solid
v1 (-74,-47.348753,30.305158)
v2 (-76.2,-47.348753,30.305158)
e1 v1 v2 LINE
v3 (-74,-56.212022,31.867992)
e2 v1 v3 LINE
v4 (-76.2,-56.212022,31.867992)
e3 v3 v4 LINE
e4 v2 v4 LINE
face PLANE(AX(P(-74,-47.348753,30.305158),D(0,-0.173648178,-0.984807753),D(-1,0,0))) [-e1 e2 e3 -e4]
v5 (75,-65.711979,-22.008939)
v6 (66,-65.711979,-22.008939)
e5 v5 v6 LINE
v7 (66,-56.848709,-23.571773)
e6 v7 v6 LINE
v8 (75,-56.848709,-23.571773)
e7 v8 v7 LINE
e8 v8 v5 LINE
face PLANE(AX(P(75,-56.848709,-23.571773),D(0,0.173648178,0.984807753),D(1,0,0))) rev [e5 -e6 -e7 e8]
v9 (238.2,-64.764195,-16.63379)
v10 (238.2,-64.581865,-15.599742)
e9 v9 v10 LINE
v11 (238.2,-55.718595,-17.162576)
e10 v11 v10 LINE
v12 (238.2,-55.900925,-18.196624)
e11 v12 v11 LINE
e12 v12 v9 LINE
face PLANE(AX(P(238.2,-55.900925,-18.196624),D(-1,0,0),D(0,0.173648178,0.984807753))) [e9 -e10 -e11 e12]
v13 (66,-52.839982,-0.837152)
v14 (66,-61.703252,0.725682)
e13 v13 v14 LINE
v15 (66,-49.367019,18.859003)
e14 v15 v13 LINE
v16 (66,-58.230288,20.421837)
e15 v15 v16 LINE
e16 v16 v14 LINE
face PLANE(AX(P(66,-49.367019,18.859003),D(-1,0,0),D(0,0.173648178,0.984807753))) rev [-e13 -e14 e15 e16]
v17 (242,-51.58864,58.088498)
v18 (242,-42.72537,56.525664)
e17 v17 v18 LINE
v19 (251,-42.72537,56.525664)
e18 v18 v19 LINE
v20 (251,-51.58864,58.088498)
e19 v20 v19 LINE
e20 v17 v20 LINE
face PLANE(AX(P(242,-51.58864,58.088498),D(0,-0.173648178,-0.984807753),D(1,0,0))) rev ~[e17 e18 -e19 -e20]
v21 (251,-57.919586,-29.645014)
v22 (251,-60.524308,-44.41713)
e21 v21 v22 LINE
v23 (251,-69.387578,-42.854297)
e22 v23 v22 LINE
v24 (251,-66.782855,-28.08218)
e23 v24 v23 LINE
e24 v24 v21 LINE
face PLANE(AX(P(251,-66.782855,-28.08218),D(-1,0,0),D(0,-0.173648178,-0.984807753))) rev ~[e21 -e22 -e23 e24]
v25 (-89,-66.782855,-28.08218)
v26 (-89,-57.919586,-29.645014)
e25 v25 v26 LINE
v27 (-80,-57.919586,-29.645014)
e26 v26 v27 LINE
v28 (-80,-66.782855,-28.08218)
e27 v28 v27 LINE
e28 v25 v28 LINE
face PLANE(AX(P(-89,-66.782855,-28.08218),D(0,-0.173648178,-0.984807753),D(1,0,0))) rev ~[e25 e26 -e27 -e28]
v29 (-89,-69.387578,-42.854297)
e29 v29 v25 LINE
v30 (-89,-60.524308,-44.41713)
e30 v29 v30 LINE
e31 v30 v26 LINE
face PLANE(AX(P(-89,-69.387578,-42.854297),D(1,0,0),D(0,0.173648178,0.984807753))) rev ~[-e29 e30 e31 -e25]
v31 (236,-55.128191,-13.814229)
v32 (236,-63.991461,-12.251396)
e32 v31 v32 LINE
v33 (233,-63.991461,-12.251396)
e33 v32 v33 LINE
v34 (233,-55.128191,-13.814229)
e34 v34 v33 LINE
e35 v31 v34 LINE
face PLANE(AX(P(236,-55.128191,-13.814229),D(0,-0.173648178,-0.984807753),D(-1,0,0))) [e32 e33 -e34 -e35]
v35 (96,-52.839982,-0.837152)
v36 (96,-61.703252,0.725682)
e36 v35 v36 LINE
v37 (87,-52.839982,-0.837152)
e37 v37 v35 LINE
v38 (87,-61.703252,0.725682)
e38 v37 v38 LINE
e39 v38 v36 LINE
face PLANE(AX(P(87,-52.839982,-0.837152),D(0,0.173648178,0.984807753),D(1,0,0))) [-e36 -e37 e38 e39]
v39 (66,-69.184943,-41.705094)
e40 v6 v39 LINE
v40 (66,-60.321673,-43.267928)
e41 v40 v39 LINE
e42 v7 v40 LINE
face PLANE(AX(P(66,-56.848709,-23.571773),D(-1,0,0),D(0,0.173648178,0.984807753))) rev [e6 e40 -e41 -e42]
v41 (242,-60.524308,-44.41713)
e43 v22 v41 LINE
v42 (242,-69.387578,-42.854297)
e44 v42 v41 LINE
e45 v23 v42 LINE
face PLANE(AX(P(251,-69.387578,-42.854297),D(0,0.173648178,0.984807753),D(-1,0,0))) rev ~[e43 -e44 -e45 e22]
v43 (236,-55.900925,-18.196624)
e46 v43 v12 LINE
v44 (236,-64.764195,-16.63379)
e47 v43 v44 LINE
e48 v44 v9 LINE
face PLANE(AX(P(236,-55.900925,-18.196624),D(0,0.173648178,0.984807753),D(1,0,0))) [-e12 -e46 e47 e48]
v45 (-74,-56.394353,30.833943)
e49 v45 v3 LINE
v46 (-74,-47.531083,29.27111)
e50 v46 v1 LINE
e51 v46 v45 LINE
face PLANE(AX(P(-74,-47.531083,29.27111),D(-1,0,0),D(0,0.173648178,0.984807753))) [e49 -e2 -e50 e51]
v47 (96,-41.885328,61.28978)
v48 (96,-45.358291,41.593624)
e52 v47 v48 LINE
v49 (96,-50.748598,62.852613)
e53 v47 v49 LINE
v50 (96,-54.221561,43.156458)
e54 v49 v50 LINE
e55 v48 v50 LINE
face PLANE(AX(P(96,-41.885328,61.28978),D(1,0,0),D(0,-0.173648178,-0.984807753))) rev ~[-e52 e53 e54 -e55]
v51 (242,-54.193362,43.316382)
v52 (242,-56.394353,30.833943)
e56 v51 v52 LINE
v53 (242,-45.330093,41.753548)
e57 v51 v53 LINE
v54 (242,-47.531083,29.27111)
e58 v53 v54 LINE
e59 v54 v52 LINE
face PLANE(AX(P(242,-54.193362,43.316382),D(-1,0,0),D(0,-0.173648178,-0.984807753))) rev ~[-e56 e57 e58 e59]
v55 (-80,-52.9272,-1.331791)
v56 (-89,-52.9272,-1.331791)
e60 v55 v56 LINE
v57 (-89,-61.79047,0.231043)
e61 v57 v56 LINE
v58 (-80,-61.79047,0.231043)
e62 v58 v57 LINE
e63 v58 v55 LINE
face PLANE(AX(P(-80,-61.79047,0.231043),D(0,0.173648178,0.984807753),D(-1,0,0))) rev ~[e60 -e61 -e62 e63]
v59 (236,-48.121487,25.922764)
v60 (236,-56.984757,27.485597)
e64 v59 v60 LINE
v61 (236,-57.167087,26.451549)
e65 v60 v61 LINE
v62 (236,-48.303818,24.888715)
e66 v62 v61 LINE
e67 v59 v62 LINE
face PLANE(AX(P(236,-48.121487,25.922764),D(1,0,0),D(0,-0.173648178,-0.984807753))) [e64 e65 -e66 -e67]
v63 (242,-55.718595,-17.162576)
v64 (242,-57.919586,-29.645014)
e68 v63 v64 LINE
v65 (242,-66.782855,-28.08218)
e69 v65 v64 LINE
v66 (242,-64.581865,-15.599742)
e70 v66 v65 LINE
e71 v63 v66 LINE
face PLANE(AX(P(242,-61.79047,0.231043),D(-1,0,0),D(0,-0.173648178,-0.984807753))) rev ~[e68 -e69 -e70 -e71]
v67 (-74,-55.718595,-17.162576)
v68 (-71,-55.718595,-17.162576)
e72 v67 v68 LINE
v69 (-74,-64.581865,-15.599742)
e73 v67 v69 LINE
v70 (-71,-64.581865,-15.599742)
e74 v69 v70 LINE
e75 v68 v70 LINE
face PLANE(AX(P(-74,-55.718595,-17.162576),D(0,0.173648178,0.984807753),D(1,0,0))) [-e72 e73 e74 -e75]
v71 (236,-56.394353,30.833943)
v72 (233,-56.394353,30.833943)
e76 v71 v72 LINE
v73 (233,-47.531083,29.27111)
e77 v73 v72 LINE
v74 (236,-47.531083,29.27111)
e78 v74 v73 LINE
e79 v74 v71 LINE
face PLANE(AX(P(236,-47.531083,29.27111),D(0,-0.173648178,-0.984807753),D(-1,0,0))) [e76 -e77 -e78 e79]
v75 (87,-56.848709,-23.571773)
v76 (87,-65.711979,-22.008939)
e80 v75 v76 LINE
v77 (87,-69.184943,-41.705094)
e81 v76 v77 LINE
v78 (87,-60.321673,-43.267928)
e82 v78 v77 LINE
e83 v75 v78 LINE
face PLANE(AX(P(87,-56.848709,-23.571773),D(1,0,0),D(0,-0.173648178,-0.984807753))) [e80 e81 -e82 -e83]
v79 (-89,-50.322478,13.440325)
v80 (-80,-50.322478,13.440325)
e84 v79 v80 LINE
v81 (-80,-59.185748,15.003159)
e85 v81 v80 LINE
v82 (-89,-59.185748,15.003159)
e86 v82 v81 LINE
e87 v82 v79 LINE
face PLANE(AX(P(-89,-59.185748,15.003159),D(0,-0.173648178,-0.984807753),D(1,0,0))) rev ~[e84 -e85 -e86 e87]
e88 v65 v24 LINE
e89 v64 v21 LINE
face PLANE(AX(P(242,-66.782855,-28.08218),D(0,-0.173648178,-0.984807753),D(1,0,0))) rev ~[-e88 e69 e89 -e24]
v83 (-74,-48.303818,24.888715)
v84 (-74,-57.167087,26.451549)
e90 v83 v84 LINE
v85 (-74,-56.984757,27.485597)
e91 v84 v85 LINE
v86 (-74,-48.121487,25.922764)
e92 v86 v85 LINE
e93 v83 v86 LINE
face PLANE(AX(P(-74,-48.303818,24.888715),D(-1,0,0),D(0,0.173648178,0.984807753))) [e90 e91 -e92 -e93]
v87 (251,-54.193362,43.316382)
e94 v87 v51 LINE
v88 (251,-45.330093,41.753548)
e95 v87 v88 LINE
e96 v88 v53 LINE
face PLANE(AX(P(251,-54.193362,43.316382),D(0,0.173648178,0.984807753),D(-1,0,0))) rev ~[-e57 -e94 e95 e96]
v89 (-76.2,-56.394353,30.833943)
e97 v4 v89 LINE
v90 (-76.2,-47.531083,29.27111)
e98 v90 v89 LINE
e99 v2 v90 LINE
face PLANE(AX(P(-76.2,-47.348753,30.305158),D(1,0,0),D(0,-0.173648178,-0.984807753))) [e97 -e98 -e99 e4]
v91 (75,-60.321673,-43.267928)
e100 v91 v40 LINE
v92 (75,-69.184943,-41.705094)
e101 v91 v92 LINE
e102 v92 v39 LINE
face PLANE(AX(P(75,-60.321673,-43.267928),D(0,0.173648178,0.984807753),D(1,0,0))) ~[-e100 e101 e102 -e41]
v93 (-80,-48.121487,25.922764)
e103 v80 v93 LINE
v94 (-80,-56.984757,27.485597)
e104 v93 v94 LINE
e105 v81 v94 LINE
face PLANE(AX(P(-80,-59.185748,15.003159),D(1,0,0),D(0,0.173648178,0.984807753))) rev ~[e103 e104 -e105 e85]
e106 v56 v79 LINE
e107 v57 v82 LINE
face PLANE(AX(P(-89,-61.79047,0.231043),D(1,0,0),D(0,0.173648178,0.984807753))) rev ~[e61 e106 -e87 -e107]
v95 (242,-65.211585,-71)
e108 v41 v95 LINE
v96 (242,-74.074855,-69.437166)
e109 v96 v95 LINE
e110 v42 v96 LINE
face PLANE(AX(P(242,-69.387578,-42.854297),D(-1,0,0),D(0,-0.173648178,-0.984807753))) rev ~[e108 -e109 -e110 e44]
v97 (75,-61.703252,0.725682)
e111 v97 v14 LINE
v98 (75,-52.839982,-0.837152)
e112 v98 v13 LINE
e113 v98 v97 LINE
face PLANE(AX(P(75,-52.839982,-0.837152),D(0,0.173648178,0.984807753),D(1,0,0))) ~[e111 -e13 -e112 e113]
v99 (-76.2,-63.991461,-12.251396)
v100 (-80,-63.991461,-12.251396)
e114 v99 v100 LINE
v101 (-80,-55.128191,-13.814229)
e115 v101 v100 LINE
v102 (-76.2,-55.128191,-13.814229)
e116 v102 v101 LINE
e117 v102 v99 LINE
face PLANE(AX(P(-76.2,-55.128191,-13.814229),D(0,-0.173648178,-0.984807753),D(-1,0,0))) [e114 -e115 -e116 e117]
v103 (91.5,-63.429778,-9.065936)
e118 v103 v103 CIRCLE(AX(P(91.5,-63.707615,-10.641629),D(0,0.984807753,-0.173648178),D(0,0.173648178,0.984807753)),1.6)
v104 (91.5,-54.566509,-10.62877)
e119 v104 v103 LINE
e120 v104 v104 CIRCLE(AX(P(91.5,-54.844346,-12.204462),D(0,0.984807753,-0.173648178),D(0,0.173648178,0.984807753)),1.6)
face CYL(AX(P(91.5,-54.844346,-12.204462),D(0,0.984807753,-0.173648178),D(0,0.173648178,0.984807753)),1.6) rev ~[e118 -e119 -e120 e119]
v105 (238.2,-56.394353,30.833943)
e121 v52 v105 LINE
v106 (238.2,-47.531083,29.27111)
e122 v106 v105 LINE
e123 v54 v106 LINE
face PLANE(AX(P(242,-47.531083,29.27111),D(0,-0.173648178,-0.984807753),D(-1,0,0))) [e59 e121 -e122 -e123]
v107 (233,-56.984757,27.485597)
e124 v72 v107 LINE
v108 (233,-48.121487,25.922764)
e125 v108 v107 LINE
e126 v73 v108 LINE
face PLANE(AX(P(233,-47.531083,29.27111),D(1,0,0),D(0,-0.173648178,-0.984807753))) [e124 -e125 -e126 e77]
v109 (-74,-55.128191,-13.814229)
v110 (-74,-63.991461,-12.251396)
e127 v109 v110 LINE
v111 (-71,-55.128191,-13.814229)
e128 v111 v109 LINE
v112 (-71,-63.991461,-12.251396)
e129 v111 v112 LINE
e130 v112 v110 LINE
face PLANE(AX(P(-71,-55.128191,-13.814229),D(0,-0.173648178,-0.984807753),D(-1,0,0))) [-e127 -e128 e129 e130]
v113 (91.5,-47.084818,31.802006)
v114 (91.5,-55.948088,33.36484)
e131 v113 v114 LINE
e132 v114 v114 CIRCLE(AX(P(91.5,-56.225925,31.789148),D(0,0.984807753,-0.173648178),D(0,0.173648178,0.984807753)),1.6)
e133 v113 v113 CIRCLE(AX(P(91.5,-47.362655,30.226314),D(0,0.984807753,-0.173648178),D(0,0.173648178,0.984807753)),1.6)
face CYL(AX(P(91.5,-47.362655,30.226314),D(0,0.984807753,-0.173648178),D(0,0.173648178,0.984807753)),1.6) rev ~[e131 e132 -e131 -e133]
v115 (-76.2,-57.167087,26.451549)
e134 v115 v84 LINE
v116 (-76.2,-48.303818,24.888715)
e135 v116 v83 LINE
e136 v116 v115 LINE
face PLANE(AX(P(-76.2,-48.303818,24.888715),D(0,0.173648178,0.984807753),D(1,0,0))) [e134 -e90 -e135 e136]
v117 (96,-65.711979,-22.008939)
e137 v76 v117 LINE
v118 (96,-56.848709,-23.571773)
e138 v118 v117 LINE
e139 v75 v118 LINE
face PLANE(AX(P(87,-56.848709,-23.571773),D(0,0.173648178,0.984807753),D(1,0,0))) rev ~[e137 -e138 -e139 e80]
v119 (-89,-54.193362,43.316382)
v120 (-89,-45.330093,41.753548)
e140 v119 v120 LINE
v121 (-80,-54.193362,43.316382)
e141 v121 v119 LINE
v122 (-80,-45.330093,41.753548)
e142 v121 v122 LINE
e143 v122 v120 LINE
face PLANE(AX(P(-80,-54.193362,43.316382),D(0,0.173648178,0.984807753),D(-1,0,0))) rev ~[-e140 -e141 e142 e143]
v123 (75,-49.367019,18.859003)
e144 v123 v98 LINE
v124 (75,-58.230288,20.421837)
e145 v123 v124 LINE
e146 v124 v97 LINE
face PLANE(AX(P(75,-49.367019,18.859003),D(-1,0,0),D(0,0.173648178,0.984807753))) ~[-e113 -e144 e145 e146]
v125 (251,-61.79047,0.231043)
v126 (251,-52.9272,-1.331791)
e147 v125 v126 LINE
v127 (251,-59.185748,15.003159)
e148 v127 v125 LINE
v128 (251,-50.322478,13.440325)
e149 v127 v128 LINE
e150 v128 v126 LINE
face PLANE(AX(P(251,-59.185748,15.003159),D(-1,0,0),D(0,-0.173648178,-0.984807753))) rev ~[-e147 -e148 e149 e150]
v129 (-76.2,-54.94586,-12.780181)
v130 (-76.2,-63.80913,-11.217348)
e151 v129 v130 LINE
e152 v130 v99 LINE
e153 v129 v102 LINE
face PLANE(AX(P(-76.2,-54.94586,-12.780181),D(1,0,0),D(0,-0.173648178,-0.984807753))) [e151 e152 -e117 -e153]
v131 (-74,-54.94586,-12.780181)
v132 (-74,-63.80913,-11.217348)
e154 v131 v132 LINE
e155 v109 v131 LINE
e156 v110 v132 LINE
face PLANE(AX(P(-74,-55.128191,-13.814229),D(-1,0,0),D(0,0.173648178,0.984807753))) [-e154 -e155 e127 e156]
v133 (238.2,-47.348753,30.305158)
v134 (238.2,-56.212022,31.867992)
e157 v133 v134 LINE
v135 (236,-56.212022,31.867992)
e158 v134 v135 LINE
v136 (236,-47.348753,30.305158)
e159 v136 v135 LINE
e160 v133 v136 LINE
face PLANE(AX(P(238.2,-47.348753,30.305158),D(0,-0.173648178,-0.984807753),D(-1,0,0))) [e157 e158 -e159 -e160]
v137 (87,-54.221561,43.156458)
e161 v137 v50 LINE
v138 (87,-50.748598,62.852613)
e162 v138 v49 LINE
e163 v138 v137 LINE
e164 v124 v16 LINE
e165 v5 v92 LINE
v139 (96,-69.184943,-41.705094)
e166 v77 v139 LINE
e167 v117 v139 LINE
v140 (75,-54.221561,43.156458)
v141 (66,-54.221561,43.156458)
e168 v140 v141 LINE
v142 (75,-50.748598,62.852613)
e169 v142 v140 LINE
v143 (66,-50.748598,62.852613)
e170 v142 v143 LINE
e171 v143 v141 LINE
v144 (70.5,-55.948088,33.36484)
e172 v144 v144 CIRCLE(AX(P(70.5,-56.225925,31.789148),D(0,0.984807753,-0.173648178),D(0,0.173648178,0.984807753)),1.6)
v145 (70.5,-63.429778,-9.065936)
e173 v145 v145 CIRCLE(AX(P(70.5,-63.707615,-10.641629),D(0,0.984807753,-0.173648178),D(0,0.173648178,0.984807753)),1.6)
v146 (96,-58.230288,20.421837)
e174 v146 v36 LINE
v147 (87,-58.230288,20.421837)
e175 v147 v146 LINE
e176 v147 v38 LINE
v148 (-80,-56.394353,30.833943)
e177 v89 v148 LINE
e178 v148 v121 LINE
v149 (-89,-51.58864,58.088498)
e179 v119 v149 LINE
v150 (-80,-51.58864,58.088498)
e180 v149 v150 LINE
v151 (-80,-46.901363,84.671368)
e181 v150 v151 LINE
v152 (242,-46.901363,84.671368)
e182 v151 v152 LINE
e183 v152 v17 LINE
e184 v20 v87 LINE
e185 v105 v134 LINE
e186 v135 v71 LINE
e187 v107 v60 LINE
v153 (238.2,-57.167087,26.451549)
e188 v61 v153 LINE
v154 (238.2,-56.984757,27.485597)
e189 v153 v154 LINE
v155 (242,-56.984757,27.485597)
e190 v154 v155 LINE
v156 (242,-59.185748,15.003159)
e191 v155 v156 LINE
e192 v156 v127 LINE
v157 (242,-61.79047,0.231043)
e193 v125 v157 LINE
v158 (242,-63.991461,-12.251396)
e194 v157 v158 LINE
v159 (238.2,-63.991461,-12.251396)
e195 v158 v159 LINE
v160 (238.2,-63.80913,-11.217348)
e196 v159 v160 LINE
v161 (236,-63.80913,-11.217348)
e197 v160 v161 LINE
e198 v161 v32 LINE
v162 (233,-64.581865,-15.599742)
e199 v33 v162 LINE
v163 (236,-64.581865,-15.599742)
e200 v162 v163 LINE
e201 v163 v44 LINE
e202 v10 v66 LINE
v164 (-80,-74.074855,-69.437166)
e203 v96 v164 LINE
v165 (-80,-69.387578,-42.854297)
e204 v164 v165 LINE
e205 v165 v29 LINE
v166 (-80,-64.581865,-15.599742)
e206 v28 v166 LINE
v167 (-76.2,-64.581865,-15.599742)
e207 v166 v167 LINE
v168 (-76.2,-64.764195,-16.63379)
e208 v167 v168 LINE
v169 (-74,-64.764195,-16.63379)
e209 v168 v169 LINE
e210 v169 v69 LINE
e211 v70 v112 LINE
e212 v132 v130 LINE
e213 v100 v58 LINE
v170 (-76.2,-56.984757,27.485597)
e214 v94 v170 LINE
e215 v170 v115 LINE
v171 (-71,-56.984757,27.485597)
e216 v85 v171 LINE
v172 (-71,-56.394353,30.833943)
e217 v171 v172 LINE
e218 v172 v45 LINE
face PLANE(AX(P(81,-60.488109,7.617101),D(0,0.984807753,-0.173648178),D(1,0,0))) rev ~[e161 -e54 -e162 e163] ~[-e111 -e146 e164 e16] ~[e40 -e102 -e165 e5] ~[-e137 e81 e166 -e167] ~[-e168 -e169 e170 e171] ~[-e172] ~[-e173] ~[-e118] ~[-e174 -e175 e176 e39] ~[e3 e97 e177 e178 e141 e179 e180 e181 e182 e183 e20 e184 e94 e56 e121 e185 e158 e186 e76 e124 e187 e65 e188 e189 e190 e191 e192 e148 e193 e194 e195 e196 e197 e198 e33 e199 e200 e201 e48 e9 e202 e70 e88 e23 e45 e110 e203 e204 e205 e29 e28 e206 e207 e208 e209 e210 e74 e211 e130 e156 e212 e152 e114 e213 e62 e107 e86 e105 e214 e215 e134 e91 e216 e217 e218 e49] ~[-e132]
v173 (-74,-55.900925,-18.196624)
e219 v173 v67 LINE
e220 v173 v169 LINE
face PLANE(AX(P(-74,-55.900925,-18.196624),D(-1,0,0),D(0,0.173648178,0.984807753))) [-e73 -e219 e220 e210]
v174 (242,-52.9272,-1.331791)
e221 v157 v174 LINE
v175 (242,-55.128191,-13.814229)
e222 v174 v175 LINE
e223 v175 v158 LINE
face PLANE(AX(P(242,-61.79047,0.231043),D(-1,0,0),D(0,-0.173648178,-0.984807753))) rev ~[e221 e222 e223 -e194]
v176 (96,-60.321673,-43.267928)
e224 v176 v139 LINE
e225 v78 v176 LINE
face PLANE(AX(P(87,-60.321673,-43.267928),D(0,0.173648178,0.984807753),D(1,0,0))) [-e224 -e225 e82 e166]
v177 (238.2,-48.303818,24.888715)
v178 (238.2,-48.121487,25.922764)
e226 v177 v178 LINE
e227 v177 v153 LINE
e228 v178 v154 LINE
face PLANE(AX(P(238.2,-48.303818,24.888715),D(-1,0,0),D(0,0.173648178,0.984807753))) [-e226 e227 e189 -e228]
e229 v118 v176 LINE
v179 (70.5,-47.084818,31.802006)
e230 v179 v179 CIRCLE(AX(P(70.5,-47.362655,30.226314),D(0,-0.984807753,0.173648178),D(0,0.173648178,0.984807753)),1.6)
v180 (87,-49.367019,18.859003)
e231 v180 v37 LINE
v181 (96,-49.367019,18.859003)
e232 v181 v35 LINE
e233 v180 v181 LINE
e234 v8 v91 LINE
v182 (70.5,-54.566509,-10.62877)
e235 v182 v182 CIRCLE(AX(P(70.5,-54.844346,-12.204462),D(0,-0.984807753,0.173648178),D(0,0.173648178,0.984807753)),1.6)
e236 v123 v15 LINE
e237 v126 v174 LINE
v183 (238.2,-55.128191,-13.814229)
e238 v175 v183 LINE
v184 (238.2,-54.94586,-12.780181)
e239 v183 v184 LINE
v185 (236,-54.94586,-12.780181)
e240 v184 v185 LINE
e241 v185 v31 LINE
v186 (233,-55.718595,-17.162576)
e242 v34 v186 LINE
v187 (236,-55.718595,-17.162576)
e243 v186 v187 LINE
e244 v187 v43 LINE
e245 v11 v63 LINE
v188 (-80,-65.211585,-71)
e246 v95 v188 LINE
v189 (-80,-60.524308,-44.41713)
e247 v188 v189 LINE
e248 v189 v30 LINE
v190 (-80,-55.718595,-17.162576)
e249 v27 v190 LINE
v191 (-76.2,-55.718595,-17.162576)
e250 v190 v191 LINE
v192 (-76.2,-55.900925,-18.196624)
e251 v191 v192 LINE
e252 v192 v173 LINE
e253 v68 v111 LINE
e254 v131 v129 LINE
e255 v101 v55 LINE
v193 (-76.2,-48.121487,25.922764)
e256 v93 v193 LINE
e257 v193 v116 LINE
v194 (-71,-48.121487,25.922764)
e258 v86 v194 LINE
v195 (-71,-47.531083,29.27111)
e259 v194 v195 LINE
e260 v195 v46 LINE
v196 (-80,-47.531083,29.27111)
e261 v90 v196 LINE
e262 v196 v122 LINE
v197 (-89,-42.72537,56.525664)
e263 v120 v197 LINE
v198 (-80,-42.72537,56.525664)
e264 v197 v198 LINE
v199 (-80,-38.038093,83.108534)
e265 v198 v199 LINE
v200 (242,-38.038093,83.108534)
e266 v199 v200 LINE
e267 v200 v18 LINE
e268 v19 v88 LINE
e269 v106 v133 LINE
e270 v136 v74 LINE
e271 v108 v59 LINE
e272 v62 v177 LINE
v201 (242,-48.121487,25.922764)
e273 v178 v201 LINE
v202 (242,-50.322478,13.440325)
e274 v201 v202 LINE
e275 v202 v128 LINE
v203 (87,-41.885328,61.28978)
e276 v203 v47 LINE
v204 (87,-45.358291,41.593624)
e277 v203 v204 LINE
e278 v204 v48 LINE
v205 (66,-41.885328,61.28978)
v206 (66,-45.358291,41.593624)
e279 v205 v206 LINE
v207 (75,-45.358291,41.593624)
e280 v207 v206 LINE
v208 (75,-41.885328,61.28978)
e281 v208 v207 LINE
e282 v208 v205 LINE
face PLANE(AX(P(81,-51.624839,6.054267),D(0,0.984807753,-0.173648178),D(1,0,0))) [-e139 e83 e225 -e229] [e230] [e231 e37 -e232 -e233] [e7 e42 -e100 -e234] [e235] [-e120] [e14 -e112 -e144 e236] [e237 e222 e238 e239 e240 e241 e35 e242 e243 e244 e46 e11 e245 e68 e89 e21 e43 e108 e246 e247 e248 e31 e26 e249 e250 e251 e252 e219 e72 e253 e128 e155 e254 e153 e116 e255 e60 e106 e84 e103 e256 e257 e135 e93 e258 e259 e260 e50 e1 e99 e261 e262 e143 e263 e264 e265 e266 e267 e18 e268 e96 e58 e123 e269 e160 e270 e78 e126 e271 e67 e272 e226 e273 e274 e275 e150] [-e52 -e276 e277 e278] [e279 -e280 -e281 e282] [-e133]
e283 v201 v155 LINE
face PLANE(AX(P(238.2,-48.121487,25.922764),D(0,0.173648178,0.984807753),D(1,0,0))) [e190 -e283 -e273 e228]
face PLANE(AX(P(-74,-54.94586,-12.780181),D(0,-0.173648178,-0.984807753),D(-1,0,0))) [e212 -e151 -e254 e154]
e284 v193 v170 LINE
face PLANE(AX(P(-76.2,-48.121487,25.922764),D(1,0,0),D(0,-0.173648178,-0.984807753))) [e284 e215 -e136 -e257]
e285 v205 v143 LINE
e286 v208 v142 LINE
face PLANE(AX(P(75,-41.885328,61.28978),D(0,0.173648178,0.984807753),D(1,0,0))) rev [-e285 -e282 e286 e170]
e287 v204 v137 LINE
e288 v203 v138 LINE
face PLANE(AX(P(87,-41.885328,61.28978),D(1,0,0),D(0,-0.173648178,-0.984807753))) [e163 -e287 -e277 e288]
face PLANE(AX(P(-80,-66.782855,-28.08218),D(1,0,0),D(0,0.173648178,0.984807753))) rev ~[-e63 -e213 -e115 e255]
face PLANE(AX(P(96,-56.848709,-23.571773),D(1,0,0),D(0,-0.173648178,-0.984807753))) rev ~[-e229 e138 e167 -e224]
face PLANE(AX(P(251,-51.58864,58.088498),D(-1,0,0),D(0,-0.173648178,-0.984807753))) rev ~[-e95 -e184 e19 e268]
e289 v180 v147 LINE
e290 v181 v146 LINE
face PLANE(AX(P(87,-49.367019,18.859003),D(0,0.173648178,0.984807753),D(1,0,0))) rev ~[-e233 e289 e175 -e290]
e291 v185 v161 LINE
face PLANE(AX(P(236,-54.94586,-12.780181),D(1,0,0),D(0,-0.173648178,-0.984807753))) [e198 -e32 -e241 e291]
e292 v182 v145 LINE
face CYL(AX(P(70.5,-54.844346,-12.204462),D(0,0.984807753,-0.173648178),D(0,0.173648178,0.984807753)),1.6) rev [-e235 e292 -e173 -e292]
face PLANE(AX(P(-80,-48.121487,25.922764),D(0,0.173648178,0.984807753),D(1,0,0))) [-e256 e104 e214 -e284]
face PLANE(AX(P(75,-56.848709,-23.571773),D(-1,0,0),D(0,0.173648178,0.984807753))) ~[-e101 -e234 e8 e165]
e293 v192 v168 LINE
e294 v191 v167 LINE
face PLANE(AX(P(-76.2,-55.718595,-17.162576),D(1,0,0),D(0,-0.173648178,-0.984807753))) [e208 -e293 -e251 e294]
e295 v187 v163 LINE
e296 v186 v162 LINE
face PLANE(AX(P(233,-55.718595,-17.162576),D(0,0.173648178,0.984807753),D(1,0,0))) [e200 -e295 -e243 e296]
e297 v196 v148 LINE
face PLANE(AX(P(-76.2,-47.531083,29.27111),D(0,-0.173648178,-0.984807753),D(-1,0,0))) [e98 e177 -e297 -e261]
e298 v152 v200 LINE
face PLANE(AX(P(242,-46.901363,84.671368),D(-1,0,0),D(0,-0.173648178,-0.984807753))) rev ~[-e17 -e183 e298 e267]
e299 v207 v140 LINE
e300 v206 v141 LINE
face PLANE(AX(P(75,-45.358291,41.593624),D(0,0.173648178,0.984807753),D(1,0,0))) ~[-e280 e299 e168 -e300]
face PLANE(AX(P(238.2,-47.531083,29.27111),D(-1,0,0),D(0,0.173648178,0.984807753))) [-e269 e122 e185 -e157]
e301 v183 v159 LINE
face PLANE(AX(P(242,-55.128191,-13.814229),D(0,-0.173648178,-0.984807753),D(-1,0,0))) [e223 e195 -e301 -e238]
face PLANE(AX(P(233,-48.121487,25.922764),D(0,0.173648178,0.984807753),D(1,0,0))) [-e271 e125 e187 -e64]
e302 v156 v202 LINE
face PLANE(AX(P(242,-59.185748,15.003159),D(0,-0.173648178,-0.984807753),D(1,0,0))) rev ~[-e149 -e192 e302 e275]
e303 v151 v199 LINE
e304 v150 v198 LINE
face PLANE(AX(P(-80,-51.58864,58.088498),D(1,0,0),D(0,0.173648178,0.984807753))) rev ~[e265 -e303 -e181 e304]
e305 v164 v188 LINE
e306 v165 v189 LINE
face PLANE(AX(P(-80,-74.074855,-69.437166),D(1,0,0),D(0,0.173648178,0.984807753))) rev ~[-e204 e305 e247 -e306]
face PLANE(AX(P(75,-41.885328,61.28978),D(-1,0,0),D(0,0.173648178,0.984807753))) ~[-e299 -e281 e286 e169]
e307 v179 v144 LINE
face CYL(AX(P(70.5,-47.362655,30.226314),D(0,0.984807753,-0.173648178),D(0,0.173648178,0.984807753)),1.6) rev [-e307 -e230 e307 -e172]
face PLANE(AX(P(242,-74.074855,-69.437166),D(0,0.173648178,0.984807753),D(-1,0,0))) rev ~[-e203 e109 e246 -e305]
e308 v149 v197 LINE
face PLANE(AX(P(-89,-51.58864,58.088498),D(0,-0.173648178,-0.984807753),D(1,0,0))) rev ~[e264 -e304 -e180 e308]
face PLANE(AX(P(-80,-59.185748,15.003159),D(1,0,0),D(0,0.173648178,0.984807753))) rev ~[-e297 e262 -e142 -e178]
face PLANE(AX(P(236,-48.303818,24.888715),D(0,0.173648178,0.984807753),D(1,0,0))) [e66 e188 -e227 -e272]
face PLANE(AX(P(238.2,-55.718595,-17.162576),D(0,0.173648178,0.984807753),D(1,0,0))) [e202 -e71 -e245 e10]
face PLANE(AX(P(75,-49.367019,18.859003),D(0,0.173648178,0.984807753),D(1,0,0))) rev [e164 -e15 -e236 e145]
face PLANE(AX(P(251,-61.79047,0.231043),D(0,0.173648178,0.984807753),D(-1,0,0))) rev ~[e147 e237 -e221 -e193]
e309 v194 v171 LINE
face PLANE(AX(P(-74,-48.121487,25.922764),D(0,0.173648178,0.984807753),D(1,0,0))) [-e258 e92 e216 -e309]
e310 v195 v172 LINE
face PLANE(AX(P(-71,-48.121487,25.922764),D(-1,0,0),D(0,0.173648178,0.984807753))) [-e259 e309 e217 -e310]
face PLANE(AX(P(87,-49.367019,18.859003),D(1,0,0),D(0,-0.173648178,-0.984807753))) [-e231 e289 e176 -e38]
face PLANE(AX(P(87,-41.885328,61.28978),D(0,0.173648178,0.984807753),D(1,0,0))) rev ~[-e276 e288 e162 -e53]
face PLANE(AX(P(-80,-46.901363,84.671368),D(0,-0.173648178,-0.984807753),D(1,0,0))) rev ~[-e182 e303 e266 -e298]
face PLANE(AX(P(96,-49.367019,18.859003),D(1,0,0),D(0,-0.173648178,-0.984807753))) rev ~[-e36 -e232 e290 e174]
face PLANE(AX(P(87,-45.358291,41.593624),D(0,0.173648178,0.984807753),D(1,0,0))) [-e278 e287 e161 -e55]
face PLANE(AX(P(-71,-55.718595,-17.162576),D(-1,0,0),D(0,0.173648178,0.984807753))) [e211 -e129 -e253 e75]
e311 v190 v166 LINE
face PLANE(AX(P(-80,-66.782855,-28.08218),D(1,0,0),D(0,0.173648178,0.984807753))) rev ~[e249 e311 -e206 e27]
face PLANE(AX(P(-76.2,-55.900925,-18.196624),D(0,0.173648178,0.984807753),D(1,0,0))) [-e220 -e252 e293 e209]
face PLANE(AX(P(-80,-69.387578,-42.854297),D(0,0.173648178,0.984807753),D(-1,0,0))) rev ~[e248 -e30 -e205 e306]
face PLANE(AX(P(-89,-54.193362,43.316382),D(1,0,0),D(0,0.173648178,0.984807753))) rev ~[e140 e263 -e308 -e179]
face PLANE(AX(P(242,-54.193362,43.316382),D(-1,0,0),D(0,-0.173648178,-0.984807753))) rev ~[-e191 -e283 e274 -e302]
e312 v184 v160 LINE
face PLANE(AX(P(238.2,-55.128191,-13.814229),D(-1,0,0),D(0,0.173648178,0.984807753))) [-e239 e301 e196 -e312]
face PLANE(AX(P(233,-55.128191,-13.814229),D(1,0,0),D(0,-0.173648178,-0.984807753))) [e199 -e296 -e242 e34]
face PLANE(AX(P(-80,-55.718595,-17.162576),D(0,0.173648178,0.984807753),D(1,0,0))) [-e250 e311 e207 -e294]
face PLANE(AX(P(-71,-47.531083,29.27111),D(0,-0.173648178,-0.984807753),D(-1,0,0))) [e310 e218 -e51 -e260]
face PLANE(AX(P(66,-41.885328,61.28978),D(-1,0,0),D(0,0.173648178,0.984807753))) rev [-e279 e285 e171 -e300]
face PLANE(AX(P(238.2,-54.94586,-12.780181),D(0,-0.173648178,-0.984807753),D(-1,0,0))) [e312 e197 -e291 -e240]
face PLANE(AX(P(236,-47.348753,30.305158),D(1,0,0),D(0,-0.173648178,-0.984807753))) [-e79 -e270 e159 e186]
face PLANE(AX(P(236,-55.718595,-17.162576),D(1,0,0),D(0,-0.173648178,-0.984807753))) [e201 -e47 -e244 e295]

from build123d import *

# Parameters (mm, degrees)
BOSS_EXTRUDE1_DEPTH = 9
CUT_EXTRUDE1_DEPTH  = 265.443626141
SKETCH5_R           = 1.6
SKETCH5_W           = 9
SKETCH5_H           = 20
CUT_EXTRUDE2_DEPTH  = 265.443626141


with BuildPart() as part:
    # Sketch2 → Boss-Extrude1 (new body)
    with BuildSketch(Plane(origin=(0, -59.966770125, 10.573759519), x_dir=(1, 0, 0), z_dir=(0, 0.9848077530122079, -0.1736481776669316))):
        Polygon((-80, -33.247729948), (-89, -33.247729948), (-89, -48.247729948), (-80, -48.247729948), (-80, -75.240683317), (242, -75.240683317), (242, -48.247729948), (251, -48.247729948), (251, -33.247729948), (242, -33.247729948), (242, -4.497729948), (251, -4.497729948), (251, 10.502270052), (242, 10.502270052), (242, 39.252270052), (251, 39.252270052), (251, 54.252270052), (242, 54.252270052), (242, 81.245223421), (-80, 81.245223421), (-80, 54.252270052), (-89, 54.252270052), (-89, 39.252270052), (-80, 39.252270052), (-80, 10.502270052), (-89, 10.502270052), (-89, -4.497729948), (-80, -4.497729948), align=None)
    extrude(amount=BOSS_EXTRUDE1_DEPTH)

    # Sketch4 → Cut-Extrude1 (cut, through all)
    with BuildSketch(Plane(origin=(0, -51.103500347, 9.01092592), x_dir=(1, 0, 0), z_dir=(0, 0.9848077530122079, -0.17364817766693172))):
        Polygon((-80, -17.172729948), (-76.2, -17.172729948), (-76.2, -16.122729948), (-74, -16.122729948), (-74, -17.172729948), (-71, -17.172729948), (-71, -20.572729948), (-74, -20.572729948), (-74, -21.622729948), (-76.2, -21.622729948), (-76.2, -20.572729948), (-80, -20.572729948), align=None)
        Polygon((-80, 23.177270052), (-80, 26.577270052), (-76.2, 26.577270052), (-76.2, 27.627270052), (-74, 27.627270052), (-74, 26.577270052), (-71, 26.577270052), (-71, 23.177270052), (-74, 23.177270052), (-74, 22.127270052), (-76.2, 22.127270052), (-76.2, 23.177270052), align=None)
        Polygon((242, 23.177270052), (238.2, 23.177270052), (238.2, 22.127270052), (236, 22.127270052), (236, 23.177270052), (233, 23.177270052), (233, 26.577270052), (236, 26.577270052), (236, 27.627270052), (238.2, 27.627270052), (238.2, 26.577270052), (242, 26.577270052), align=None)
        Polygon((242, -17.172729948), (242, -20.572729948), (238.2, -20.572729948), (238.2, -21.622729948), (236, -21.622729948), (236, -20.572729948), (233, -20.572729948), (233, -17.172729948), (236, -17.172729948), (236, -16.122729948), (238.2, -16.122729948), (238.2, -17.172729948), align=None)
    extrude(amount=-CUT_EXTRUDE1_DEPTH, mode=Mode.SUBTRACT)

    # Sketch5 → Cut-Extrude2 (cut, through all)
    with BuildSketch(Plane(origin=(0, -51.103500347, 9.01092592), x_dir=(1, 0, 0), z_dir=(0, 0.9848077530122078, -0.1736481776669317))):
        with Locations(Location((91.5, -21.542669597, 0), (0, 0, 270))):
            Circle(SKETCH5_R)
        with Locations(Location((91.5, 21.542669597, 0), (0, 0, 270))):
            Circle(SKETCH5_R)
        with Locations((91.5, -43.085339194)):
            Rectangle(SKETCH5_W, SKETCH5_H)
        with Locations((91.5, 0)):
            Rectangle(SKETCH5_W, SKETCH5_H)
        with Locations((91.5, 43.085339194)):
            Rectangle(SKETCH5_W, SKETCH5_H)
    cut_extrude2 = extrude(amount=-CUT_EXTRUDE2_DEPTH, mode=Mode.SUBTRACT)

    # Mirror1: Cut-Extrude2 across plane
    add(cut_extrude2.mirror(Plane.ZY.offset(-81)), mode=Mode.SUBTRACT)


solid = part.part
